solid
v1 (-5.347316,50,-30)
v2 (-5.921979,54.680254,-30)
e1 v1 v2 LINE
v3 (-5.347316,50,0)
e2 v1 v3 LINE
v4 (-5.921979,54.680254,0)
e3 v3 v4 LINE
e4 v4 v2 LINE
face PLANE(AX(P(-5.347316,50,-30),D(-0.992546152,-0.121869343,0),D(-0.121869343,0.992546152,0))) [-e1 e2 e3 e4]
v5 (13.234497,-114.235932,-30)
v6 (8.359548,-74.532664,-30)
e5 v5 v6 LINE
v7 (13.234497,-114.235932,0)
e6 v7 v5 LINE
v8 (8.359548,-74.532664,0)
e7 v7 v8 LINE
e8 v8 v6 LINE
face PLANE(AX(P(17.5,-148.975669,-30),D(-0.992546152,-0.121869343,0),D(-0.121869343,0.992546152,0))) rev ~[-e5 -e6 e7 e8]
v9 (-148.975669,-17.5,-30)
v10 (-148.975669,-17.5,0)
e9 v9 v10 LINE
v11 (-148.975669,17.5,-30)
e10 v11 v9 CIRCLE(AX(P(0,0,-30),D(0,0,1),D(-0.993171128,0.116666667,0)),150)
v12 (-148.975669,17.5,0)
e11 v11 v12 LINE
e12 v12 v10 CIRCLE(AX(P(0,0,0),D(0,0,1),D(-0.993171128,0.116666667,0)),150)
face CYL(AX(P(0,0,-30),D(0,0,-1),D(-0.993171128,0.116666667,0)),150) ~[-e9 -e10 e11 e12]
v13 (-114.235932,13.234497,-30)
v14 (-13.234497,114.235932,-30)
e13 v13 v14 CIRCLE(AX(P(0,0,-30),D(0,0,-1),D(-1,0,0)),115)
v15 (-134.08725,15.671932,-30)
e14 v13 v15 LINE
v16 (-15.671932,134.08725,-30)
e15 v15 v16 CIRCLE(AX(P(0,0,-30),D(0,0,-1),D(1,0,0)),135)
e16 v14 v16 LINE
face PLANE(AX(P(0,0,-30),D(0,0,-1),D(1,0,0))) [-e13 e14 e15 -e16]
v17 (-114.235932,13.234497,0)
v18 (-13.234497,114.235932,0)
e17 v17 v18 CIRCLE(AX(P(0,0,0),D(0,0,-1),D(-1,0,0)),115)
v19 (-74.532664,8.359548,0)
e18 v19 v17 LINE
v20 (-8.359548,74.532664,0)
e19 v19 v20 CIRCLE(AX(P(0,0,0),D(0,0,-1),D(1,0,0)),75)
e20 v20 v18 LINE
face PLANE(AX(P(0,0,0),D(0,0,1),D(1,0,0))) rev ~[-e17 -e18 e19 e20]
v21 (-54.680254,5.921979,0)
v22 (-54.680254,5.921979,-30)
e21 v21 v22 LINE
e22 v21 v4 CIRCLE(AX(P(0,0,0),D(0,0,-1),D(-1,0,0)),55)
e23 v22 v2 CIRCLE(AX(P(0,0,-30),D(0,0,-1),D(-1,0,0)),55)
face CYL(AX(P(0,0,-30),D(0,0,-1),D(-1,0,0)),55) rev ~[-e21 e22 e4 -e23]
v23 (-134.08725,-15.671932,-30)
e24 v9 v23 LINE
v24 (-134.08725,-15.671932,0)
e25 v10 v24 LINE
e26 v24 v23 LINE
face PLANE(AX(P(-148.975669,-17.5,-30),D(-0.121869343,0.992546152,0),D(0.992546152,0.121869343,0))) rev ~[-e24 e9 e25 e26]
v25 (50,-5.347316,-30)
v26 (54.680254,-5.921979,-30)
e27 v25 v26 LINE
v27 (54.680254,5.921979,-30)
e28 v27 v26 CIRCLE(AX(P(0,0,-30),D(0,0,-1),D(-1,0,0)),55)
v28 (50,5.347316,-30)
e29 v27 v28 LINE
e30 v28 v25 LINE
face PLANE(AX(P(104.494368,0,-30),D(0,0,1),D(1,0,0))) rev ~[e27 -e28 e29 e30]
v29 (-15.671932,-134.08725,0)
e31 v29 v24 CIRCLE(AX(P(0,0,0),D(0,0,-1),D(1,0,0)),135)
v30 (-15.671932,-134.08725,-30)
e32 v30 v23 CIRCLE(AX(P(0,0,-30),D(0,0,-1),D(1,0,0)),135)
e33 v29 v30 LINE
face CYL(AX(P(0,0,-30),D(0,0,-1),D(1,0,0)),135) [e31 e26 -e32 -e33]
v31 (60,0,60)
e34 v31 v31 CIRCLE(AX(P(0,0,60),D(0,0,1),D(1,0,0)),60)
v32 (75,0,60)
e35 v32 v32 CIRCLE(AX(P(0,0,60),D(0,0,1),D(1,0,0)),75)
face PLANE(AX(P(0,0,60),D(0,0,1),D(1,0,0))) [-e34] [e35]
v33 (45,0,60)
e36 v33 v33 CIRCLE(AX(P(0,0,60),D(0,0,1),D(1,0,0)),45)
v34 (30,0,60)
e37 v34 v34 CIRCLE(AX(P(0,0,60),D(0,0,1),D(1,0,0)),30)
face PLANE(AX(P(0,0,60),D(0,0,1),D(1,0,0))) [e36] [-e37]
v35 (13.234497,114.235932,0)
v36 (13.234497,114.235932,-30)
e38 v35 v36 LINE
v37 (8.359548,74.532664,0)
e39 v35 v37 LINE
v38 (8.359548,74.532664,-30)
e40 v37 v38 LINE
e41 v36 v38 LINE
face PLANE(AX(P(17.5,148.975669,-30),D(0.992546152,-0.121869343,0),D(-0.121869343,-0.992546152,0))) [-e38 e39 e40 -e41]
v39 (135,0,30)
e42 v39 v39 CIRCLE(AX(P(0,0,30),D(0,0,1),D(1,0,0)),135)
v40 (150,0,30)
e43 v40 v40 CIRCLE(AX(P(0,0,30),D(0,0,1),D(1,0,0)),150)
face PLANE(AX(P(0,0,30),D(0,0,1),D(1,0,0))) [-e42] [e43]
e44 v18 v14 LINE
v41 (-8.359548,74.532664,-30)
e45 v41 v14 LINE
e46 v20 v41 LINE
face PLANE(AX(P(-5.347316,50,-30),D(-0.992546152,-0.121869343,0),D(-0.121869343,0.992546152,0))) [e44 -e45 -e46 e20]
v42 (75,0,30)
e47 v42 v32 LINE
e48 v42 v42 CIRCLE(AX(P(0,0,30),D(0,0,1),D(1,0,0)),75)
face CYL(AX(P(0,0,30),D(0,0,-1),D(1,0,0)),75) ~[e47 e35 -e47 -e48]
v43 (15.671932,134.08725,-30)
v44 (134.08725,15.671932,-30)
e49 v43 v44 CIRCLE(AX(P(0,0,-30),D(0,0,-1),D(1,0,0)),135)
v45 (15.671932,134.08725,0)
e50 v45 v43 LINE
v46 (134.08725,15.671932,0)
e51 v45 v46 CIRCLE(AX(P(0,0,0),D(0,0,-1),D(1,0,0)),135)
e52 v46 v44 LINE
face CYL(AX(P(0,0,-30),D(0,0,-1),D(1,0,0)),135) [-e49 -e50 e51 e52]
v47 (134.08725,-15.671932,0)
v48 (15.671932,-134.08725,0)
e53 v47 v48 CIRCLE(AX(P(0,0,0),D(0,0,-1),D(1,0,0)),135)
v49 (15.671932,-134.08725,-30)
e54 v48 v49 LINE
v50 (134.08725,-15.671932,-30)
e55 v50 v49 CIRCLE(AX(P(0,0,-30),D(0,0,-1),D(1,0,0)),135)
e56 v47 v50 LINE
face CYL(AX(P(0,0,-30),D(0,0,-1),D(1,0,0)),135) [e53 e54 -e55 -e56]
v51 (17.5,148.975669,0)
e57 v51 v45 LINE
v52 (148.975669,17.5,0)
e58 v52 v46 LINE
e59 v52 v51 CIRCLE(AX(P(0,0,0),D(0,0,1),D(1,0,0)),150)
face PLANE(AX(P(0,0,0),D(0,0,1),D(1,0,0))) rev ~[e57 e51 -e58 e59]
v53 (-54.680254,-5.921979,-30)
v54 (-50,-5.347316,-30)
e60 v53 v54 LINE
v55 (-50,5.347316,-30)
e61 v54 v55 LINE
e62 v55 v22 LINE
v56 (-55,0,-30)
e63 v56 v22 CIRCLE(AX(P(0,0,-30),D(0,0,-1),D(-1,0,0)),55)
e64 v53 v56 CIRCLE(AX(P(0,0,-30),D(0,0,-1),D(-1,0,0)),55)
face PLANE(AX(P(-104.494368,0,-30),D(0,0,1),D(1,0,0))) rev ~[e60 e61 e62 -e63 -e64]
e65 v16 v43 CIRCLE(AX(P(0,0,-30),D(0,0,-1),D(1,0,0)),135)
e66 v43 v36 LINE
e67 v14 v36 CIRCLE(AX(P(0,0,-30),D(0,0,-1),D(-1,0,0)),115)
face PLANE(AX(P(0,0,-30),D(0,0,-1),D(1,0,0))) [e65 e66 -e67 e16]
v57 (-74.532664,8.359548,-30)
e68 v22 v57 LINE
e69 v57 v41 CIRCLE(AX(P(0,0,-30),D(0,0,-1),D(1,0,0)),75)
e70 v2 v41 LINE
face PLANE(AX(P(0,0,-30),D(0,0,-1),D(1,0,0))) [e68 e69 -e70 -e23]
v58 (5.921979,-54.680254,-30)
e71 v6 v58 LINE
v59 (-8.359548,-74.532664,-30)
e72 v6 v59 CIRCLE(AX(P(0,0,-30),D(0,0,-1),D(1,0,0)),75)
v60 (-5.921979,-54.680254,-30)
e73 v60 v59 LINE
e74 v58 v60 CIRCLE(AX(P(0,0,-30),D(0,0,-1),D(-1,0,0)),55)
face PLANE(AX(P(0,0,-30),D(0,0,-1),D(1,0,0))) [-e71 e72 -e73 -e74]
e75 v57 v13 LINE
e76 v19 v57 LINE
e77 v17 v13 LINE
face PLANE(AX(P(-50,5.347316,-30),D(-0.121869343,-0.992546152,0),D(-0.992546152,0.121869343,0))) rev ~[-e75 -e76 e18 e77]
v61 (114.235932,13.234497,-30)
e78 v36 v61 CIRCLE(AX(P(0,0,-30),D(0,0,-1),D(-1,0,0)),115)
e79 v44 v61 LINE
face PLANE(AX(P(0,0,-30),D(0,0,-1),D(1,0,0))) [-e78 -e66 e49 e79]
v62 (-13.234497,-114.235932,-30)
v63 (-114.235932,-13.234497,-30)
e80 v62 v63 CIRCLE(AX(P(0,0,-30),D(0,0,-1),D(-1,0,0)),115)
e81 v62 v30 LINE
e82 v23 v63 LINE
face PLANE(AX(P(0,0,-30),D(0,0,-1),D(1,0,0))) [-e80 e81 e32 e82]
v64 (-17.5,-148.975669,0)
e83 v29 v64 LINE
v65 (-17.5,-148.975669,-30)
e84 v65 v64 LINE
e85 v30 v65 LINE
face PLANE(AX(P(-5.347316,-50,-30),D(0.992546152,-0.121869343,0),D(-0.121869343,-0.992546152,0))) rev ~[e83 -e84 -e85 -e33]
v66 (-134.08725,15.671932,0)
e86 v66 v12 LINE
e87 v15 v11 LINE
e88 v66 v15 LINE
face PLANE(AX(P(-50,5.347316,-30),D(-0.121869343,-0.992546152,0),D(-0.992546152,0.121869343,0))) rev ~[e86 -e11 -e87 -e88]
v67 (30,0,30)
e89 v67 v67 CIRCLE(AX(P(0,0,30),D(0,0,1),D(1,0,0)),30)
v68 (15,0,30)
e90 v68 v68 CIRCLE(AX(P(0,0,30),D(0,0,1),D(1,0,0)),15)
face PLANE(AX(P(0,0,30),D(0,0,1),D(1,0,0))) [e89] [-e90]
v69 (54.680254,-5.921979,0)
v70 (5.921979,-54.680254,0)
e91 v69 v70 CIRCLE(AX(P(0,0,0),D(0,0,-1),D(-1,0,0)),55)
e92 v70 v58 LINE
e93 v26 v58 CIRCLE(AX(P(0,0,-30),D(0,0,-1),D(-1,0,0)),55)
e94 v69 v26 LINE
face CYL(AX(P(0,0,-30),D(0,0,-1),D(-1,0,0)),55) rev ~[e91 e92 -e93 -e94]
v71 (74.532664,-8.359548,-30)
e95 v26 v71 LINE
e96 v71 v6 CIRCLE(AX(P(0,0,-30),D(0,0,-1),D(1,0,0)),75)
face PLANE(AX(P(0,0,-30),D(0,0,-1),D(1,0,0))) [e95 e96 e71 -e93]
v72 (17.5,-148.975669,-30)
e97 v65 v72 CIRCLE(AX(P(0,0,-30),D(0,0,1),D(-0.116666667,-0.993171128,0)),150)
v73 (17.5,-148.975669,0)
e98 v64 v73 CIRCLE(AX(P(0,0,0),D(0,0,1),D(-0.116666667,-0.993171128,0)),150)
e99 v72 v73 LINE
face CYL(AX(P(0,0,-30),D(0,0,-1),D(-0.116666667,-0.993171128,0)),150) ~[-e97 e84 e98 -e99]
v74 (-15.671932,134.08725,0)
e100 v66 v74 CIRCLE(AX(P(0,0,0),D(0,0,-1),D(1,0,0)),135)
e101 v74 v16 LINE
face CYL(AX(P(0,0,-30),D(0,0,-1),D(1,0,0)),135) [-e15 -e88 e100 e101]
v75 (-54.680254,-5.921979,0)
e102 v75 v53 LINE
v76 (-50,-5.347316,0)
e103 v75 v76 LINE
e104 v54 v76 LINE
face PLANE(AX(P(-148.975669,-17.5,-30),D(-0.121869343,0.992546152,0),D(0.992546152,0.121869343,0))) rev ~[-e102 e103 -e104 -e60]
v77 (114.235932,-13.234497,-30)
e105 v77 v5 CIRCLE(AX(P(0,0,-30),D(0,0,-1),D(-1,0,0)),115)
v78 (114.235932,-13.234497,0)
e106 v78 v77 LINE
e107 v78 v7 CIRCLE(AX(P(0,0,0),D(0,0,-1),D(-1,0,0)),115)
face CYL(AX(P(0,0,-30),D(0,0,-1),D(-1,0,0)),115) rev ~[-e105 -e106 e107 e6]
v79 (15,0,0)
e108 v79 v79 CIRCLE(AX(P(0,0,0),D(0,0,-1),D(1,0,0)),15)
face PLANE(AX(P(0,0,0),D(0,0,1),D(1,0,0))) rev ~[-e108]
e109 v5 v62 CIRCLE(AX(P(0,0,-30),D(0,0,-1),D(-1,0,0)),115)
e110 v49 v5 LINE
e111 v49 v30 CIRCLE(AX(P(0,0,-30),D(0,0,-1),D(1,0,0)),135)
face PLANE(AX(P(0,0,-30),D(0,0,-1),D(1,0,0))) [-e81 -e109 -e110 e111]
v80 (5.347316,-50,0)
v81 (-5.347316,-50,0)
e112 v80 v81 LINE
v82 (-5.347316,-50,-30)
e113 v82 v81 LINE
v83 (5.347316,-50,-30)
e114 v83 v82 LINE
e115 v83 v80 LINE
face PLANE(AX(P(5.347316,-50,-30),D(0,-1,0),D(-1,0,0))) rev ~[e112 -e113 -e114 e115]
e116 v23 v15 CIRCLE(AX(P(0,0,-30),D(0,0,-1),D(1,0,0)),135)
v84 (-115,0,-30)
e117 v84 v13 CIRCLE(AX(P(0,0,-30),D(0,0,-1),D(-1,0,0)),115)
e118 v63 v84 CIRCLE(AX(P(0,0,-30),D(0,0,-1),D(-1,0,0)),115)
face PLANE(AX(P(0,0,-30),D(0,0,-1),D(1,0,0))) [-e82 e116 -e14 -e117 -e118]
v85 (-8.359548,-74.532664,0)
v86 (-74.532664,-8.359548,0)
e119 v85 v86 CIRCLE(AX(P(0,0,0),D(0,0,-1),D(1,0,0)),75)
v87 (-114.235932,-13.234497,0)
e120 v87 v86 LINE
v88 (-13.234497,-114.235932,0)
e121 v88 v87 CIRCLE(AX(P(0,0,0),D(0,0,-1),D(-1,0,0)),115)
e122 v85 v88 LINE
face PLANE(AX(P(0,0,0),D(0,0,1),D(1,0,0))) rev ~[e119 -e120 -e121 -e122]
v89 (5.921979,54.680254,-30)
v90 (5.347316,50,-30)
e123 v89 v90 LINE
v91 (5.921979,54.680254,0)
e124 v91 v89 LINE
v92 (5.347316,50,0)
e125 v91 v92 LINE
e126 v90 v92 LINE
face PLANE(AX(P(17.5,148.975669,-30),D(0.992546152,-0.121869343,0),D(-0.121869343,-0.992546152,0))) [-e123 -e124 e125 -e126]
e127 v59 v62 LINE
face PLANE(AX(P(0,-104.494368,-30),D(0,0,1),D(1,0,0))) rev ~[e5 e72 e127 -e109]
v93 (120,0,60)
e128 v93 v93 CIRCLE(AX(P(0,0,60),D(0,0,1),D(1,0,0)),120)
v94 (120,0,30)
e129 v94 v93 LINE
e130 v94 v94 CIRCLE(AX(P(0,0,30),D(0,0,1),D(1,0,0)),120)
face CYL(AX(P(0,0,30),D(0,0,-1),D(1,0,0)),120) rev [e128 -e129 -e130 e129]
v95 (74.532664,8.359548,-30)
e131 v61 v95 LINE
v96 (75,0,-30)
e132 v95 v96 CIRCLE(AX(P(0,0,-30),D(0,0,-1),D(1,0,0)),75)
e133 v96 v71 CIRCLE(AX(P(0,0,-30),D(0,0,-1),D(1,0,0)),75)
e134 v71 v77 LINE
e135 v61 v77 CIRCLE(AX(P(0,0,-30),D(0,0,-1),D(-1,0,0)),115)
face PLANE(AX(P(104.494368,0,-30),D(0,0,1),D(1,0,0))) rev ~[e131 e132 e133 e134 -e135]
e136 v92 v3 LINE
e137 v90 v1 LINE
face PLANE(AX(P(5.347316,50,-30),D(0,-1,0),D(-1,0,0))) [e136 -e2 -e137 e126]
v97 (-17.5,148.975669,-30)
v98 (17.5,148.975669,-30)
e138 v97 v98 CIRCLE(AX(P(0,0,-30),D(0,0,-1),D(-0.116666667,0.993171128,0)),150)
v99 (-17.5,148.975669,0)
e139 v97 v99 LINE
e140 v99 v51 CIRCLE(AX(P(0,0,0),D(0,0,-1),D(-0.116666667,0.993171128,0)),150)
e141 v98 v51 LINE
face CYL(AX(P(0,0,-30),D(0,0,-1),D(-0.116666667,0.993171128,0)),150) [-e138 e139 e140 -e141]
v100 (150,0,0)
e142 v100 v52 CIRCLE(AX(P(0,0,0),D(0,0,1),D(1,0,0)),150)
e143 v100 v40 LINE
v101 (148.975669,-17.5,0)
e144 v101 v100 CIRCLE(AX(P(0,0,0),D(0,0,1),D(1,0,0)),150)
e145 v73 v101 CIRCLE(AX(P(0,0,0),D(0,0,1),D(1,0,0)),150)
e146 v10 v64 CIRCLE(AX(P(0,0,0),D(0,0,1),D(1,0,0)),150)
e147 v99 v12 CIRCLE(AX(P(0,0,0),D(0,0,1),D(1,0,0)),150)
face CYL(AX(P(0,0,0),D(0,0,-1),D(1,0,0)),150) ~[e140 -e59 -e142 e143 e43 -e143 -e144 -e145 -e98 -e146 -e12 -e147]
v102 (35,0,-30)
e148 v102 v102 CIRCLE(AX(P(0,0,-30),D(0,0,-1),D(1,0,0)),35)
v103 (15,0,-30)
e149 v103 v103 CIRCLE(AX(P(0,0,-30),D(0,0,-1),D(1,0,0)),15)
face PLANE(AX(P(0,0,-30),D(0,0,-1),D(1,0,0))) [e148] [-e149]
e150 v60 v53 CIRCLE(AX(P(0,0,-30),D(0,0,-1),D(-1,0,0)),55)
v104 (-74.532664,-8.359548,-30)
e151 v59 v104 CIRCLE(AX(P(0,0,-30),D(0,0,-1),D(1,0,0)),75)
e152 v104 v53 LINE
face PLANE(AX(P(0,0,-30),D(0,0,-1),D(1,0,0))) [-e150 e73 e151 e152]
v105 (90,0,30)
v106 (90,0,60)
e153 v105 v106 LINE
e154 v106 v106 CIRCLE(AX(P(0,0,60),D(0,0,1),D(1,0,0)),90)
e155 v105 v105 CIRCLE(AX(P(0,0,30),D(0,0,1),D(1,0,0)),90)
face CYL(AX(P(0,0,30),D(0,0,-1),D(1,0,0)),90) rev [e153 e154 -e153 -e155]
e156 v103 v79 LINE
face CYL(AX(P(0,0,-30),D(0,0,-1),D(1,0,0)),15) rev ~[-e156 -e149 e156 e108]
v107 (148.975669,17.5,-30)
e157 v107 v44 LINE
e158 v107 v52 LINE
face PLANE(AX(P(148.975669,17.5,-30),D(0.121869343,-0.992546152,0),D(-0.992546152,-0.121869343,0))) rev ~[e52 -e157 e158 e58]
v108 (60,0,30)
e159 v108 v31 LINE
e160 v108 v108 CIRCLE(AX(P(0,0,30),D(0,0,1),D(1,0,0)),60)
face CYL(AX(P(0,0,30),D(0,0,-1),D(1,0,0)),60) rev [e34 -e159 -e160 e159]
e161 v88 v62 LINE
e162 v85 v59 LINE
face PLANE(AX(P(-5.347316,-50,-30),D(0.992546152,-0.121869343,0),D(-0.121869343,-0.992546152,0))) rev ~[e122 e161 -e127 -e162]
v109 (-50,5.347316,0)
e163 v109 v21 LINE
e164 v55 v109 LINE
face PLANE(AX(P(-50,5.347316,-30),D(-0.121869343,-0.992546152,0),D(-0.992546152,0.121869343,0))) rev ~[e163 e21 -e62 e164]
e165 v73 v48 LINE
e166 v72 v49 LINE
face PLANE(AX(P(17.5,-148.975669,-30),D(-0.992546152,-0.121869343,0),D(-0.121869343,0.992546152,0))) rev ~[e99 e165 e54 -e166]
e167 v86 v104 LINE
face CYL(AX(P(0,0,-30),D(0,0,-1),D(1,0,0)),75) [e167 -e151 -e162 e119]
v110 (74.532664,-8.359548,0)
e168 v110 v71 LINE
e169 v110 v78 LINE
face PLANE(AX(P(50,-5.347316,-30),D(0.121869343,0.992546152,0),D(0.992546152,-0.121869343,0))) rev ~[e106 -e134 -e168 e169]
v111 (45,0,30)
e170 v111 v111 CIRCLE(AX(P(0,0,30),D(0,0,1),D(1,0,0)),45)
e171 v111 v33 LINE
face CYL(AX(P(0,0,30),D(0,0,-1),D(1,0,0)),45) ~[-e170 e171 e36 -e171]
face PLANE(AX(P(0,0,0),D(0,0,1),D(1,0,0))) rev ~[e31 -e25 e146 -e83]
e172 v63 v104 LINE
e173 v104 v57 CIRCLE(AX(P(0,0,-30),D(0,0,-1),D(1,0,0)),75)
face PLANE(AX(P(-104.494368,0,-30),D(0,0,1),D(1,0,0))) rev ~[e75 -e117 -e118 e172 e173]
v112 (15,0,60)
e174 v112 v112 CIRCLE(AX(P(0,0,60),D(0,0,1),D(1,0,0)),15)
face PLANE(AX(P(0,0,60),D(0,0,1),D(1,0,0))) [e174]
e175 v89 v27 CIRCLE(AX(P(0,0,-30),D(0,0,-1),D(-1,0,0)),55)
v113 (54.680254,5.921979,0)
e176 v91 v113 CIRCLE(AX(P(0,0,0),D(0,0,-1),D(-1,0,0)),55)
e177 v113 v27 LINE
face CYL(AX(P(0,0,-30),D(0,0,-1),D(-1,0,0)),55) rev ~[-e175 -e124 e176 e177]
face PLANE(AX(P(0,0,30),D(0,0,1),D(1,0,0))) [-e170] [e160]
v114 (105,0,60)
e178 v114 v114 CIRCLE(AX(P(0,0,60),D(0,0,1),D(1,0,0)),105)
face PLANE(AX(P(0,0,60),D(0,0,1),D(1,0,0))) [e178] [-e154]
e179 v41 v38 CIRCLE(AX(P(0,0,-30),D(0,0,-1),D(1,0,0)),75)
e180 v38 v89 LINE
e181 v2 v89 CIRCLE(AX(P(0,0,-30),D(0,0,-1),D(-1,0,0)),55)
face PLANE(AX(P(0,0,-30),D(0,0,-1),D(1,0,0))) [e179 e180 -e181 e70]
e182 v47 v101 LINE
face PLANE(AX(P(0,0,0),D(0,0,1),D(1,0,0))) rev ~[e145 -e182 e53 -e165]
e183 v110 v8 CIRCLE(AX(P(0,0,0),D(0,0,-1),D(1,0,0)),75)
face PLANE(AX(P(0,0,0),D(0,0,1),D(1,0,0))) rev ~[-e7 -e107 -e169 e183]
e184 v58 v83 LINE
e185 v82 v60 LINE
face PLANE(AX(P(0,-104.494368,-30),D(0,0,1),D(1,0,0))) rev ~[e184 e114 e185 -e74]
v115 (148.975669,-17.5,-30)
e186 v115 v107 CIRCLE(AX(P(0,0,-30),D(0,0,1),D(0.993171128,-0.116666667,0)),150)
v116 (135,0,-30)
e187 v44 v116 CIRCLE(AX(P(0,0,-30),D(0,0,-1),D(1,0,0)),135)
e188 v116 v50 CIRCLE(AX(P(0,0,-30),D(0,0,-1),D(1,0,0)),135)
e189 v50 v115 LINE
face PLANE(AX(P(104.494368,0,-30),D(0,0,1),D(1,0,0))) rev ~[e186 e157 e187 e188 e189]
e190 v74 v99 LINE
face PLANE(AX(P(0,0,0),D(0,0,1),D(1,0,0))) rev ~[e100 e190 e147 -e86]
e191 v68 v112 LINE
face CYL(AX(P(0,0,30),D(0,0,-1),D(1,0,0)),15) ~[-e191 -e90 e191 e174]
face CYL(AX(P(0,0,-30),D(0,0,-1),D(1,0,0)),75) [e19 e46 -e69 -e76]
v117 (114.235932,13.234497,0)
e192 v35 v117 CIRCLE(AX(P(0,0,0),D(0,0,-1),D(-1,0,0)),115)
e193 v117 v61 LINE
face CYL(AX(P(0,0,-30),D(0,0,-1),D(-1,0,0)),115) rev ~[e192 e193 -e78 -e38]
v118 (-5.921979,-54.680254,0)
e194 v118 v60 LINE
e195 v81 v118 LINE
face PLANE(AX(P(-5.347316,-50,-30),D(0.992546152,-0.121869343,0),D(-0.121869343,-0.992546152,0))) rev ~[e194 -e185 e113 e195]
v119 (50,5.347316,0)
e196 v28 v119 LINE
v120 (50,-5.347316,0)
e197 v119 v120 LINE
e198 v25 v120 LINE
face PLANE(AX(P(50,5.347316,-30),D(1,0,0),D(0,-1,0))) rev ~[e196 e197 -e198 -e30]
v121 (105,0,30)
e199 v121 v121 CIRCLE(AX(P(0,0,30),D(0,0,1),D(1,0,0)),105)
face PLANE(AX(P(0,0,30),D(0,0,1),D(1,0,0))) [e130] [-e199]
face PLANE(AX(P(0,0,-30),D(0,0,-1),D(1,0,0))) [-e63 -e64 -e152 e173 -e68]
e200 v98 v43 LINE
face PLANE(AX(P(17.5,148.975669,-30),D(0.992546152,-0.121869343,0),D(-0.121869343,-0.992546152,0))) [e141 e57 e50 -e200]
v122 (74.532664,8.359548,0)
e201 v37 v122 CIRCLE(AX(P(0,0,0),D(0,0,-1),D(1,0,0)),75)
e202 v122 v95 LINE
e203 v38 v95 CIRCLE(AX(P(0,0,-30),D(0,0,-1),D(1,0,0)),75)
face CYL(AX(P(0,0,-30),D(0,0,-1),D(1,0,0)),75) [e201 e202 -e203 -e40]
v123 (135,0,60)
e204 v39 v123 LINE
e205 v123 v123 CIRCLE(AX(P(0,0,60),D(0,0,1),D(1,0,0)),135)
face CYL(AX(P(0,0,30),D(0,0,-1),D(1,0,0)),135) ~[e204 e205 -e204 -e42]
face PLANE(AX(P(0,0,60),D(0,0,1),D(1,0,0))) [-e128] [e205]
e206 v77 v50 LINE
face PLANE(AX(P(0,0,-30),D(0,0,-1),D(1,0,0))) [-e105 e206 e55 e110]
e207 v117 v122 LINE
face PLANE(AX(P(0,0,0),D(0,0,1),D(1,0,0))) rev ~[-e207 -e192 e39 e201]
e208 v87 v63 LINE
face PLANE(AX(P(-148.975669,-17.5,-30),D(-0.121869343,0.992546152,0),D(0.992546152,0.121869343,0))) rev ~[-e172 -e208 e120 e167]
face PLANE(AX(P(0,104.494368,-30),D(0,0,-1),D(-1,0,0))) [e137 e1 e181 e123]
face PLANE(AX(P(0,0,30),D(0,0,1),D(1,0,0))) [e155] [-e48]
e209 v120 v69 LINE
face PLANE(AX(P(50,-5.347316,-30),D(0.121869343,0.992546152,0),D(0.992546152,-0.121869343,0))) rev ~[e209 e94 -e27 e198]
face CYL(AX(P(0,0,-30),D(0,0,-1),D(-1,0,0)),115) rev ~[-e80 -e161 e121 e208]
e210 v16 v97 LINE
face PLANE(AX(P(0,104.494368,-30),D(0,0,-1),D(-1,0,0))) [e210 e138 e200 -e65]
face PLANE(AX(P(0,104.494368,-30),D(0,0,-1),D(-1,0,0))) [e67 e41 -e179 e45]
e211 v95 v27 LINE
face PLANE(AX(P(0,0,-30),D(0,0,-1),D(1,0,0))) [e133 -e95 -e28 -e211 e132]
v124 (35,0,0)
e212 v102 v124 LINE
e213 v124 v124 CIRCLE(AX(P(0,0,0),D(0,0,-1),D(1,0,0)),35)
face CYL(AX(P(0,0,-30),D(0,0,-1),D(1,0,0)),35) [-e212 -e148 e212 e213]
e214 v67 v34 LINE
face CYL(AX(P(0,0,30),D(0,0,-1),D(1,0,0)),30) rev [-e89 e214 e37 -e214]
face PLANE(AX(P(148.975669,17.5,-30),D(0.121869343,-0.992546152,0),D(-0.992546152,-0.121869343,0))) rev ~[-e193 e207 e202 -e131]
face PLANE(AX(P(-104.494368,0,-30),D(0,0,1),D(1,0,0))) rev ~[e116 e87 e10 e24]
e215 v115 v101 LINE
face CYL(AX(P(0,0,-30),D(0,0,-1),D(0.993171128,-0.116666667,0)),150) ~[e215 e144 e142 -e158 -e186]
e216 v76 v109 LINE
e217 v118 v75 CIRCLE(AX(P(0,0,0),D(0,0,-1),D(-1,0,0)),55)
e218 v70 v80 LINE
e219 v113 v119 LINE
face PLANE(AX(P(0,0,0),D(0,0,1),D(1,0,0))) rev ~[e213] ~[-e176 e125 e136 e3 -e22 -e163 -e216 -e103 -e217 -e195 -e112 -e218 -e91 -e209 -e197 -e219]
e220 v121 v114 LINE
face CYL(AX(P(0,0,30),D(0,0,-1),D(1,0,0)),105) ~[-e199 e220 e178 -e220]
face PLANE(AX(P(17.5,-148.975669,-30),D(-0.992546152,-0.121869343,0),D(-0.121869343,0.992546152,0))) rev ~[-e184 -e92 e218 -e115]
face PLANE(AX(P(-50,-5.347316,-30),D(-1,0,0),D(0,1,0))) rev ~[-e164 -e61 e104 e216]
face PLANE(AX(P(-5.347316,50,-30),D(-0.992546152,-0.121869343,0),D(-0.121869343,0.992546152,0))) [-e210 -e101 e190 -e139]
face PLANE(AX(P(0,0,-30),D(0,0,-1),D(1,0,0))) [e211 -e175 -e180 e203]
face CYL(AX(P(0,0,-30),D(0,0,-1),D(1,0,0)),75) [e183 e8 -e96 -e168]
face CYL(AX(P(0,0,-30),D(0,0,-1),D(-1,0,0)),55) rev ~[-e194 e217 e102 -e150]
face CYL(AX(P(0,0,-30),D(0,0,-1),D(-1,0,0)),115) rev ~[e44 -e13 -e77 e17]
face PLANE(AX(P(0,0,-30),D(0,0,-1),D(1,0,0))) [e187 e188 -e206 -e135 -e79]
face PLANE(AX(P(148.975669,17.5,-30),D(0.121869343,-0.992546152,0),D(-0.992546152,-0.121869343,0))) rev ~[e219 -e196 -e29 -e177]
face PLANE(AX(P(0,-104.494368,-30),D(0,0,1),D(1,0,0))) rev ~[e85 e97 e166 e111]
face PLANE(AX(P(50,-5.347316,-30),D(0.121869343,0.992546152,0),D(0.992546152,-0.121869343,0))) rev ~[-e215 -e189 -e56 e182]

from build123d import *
from build123d.topology import SkipClean

# Parameters (mm, degrees)
SKETCH1_R           = 150
BOSS_EXTRUDE1_DEPTH = 30
SKETCH2_R           = 135
SKETCH2_R_2         = 120
SKETCH2_R_3         = 105
SKETCH2_R_4         = 90
SKETCH2_R_5         = 75
SKETCH2_R_6         = 60
SKETCH2_R_7         = 45
SKETCH2_R_8         = 30
SKETCH2_R_9         = 15
BOSS_EXTRUDE2_DEPTH = 30
BOSS_EXTRUDE3_START = 30
SKETCH3_R           = 135
SKETCH3_R_2         = 115
SKETCH3_R_3         = 75
SKETCH3_R_4         = 55
SKETCH3_R_5         = 35
SKETCH3_R_6         = 15
BOSS_EXTRUDE3_DEPTH = 30
BOSS_EXTRUDE4_START = 30
BOSS_EXTRUDE4_DEPTH = 30


with BuildPart() as part:
    # Sketch1 → Boss-Extrude1 (new body)
    with BuildSketch(Plane.XY):
        Circle(SKETCH1_R)
    extrude(amount=BOSS_EXTRUDE1_DEPTH)

    # Sketch2 → Boss-Extrude2 (add)
    # profile 1 of 5: a face of its own
    with BuildSketch(Plane.XY.offset(30)):
        Circle(SKETCH2_R)
        Circle(SKETCH2_R_2, mode=Mode.SUBTRACT)
    # profile 2 of 5: a face of its own
    with BuildSketch(Plane.XY.offset(30)):
        Circle(SKETCH2_R_3)
        Circle(SKETCH2_R_4, mode=Mode.SUBTRACT)
    # profile 3 of 5: a face of its own
    with BuildSketch(Plane.XY.offset(30)):
        Circle(SKETCH2_R_5)
        Circle(SKETCH2_R_6, mode=Mode.SUBTRACT)
    # profile 4 of 5: a face of its own
    with BuildSketch(Plane.XY.offset(30)):
        Circle(SKETCH2_R_7)
        Circle(SKETCH2_R_8, mode=Mode.SUBTRACT)
    # profile 5 of 5: a face of its own
    with BuildSketch(Plane.XY.offset(30)):
        Circle(SKETCH2_R_9)
    extrude(amount=BOSS_EXTRUDE2_DEPTH)

    # Sketch3 → Boss-Extrude3 (add)
    # profile 1 of 3: a face of its own
    with BuildSketch(Plane(origin=(0, 0, 0), x_dir=(-1, 0, 0), z_dir=(0, 0, -1)).offset(BOSS_EXTRUDE3_START)):
        with Locations(Location((0, 0, 0), (0, 0, 180))):
            Circle(SKETCH3_R)
        Circle(SKETCH3_R_2, mode=Mode.SUBTRACT)
    # profile 2 of 3: a face of its own
    with BuildSketch(Plane(origin=(0, 0, 0), x_dir=(-1, 0, 0), z_dir=(0, 0, -1)).offset(BOSS_EXTRUDE3_START)):
        with Locations(Location((0, 0, 0), (0, 0, 180))):
            Circle(SKETCH3_R_3)
        Circle(SKETCH3_R_4, mode=Mode.SUBTRACT)
    # profile 3 of 3: a face of its own
    with BuildSketch(Plane(origin=(0, 0, 0), x_dir=(-1, 0, 0), z_dir=(0, 0, -1)).offset(BOSS_EXTRUDE3_START)):
        with Locations(Location((0, 0, 0), (0, 0, 180))):
            Circle(SKETCH3_R_5)
        with Locations(Location((0, 0, 0), (0, 0, 180))):
            Circle(SKETCH3_R_6, mode=Mode.SUBTRACT)
    extrude(amount=-BOSS_EXTRUDE3_DEPTH)

    # Sketch4 → Boss-Extrude4 (add)
    with SkipClean():  # the faces are left unmerged after this step: merging them gives an invalid solid
        with BuildSketch(Plane(origin=(0, 0, 0), x_dir=(-1, 0, 0), z_dir=(0, 0, -1)).offset(BOSS_EXTRUDE4_START)):
            with BuildLine():
                Line((-5.347315923, 50), (5.347315923, 50))
                Line((5.347315923, 50), (17.5, 148.975669154))
                ThreePointArc((17.5, 148.975669154), (0, 150), (-17.5, 148.975669154))
                Line((-17.5, 148.975669154), (-5.347315923, 50))
            make_face()
            with BuildLine():
                Line((50, 5.347315923), (148.975669154, 17.5))
                ThreePointArc((148.975669154, 17.5), (150, 0), (148.975669154, -17.5))
                Line((148.975669154, -17.5), (50, -5.347315923))
                Line((50, -5.347315923), (50, 5.347315923))
            make_face()
            with BuildLine():
                Line((5.347315923, -50), (17.5, -148.975669154))
                ThreePointArc((17.5, -148.975669154), (0, -150), (-17.5, -148.975669154))
                Line((-17.5, -148.975669154), (-5.347315923, -50))
                Line((-5.347315923, -50), (5.347315923, -50))
            make_face()
            with BuildLine():
                Line((-50, -5.347315923), (-148.975669154, -17.5))
                ThreePointArc((-148.975669154, -17.5), (-150, 0), (-148.975669154, 17.5))
                Line((-148.975669154, 17.5), (-50, 5.347315923))
                Line((-50, 5.347315923), (-50, -5.347315923))
            make_face()
        extrude(amount=-BOSS_EXTRUDE4_DEPTH)


solid = part.part
